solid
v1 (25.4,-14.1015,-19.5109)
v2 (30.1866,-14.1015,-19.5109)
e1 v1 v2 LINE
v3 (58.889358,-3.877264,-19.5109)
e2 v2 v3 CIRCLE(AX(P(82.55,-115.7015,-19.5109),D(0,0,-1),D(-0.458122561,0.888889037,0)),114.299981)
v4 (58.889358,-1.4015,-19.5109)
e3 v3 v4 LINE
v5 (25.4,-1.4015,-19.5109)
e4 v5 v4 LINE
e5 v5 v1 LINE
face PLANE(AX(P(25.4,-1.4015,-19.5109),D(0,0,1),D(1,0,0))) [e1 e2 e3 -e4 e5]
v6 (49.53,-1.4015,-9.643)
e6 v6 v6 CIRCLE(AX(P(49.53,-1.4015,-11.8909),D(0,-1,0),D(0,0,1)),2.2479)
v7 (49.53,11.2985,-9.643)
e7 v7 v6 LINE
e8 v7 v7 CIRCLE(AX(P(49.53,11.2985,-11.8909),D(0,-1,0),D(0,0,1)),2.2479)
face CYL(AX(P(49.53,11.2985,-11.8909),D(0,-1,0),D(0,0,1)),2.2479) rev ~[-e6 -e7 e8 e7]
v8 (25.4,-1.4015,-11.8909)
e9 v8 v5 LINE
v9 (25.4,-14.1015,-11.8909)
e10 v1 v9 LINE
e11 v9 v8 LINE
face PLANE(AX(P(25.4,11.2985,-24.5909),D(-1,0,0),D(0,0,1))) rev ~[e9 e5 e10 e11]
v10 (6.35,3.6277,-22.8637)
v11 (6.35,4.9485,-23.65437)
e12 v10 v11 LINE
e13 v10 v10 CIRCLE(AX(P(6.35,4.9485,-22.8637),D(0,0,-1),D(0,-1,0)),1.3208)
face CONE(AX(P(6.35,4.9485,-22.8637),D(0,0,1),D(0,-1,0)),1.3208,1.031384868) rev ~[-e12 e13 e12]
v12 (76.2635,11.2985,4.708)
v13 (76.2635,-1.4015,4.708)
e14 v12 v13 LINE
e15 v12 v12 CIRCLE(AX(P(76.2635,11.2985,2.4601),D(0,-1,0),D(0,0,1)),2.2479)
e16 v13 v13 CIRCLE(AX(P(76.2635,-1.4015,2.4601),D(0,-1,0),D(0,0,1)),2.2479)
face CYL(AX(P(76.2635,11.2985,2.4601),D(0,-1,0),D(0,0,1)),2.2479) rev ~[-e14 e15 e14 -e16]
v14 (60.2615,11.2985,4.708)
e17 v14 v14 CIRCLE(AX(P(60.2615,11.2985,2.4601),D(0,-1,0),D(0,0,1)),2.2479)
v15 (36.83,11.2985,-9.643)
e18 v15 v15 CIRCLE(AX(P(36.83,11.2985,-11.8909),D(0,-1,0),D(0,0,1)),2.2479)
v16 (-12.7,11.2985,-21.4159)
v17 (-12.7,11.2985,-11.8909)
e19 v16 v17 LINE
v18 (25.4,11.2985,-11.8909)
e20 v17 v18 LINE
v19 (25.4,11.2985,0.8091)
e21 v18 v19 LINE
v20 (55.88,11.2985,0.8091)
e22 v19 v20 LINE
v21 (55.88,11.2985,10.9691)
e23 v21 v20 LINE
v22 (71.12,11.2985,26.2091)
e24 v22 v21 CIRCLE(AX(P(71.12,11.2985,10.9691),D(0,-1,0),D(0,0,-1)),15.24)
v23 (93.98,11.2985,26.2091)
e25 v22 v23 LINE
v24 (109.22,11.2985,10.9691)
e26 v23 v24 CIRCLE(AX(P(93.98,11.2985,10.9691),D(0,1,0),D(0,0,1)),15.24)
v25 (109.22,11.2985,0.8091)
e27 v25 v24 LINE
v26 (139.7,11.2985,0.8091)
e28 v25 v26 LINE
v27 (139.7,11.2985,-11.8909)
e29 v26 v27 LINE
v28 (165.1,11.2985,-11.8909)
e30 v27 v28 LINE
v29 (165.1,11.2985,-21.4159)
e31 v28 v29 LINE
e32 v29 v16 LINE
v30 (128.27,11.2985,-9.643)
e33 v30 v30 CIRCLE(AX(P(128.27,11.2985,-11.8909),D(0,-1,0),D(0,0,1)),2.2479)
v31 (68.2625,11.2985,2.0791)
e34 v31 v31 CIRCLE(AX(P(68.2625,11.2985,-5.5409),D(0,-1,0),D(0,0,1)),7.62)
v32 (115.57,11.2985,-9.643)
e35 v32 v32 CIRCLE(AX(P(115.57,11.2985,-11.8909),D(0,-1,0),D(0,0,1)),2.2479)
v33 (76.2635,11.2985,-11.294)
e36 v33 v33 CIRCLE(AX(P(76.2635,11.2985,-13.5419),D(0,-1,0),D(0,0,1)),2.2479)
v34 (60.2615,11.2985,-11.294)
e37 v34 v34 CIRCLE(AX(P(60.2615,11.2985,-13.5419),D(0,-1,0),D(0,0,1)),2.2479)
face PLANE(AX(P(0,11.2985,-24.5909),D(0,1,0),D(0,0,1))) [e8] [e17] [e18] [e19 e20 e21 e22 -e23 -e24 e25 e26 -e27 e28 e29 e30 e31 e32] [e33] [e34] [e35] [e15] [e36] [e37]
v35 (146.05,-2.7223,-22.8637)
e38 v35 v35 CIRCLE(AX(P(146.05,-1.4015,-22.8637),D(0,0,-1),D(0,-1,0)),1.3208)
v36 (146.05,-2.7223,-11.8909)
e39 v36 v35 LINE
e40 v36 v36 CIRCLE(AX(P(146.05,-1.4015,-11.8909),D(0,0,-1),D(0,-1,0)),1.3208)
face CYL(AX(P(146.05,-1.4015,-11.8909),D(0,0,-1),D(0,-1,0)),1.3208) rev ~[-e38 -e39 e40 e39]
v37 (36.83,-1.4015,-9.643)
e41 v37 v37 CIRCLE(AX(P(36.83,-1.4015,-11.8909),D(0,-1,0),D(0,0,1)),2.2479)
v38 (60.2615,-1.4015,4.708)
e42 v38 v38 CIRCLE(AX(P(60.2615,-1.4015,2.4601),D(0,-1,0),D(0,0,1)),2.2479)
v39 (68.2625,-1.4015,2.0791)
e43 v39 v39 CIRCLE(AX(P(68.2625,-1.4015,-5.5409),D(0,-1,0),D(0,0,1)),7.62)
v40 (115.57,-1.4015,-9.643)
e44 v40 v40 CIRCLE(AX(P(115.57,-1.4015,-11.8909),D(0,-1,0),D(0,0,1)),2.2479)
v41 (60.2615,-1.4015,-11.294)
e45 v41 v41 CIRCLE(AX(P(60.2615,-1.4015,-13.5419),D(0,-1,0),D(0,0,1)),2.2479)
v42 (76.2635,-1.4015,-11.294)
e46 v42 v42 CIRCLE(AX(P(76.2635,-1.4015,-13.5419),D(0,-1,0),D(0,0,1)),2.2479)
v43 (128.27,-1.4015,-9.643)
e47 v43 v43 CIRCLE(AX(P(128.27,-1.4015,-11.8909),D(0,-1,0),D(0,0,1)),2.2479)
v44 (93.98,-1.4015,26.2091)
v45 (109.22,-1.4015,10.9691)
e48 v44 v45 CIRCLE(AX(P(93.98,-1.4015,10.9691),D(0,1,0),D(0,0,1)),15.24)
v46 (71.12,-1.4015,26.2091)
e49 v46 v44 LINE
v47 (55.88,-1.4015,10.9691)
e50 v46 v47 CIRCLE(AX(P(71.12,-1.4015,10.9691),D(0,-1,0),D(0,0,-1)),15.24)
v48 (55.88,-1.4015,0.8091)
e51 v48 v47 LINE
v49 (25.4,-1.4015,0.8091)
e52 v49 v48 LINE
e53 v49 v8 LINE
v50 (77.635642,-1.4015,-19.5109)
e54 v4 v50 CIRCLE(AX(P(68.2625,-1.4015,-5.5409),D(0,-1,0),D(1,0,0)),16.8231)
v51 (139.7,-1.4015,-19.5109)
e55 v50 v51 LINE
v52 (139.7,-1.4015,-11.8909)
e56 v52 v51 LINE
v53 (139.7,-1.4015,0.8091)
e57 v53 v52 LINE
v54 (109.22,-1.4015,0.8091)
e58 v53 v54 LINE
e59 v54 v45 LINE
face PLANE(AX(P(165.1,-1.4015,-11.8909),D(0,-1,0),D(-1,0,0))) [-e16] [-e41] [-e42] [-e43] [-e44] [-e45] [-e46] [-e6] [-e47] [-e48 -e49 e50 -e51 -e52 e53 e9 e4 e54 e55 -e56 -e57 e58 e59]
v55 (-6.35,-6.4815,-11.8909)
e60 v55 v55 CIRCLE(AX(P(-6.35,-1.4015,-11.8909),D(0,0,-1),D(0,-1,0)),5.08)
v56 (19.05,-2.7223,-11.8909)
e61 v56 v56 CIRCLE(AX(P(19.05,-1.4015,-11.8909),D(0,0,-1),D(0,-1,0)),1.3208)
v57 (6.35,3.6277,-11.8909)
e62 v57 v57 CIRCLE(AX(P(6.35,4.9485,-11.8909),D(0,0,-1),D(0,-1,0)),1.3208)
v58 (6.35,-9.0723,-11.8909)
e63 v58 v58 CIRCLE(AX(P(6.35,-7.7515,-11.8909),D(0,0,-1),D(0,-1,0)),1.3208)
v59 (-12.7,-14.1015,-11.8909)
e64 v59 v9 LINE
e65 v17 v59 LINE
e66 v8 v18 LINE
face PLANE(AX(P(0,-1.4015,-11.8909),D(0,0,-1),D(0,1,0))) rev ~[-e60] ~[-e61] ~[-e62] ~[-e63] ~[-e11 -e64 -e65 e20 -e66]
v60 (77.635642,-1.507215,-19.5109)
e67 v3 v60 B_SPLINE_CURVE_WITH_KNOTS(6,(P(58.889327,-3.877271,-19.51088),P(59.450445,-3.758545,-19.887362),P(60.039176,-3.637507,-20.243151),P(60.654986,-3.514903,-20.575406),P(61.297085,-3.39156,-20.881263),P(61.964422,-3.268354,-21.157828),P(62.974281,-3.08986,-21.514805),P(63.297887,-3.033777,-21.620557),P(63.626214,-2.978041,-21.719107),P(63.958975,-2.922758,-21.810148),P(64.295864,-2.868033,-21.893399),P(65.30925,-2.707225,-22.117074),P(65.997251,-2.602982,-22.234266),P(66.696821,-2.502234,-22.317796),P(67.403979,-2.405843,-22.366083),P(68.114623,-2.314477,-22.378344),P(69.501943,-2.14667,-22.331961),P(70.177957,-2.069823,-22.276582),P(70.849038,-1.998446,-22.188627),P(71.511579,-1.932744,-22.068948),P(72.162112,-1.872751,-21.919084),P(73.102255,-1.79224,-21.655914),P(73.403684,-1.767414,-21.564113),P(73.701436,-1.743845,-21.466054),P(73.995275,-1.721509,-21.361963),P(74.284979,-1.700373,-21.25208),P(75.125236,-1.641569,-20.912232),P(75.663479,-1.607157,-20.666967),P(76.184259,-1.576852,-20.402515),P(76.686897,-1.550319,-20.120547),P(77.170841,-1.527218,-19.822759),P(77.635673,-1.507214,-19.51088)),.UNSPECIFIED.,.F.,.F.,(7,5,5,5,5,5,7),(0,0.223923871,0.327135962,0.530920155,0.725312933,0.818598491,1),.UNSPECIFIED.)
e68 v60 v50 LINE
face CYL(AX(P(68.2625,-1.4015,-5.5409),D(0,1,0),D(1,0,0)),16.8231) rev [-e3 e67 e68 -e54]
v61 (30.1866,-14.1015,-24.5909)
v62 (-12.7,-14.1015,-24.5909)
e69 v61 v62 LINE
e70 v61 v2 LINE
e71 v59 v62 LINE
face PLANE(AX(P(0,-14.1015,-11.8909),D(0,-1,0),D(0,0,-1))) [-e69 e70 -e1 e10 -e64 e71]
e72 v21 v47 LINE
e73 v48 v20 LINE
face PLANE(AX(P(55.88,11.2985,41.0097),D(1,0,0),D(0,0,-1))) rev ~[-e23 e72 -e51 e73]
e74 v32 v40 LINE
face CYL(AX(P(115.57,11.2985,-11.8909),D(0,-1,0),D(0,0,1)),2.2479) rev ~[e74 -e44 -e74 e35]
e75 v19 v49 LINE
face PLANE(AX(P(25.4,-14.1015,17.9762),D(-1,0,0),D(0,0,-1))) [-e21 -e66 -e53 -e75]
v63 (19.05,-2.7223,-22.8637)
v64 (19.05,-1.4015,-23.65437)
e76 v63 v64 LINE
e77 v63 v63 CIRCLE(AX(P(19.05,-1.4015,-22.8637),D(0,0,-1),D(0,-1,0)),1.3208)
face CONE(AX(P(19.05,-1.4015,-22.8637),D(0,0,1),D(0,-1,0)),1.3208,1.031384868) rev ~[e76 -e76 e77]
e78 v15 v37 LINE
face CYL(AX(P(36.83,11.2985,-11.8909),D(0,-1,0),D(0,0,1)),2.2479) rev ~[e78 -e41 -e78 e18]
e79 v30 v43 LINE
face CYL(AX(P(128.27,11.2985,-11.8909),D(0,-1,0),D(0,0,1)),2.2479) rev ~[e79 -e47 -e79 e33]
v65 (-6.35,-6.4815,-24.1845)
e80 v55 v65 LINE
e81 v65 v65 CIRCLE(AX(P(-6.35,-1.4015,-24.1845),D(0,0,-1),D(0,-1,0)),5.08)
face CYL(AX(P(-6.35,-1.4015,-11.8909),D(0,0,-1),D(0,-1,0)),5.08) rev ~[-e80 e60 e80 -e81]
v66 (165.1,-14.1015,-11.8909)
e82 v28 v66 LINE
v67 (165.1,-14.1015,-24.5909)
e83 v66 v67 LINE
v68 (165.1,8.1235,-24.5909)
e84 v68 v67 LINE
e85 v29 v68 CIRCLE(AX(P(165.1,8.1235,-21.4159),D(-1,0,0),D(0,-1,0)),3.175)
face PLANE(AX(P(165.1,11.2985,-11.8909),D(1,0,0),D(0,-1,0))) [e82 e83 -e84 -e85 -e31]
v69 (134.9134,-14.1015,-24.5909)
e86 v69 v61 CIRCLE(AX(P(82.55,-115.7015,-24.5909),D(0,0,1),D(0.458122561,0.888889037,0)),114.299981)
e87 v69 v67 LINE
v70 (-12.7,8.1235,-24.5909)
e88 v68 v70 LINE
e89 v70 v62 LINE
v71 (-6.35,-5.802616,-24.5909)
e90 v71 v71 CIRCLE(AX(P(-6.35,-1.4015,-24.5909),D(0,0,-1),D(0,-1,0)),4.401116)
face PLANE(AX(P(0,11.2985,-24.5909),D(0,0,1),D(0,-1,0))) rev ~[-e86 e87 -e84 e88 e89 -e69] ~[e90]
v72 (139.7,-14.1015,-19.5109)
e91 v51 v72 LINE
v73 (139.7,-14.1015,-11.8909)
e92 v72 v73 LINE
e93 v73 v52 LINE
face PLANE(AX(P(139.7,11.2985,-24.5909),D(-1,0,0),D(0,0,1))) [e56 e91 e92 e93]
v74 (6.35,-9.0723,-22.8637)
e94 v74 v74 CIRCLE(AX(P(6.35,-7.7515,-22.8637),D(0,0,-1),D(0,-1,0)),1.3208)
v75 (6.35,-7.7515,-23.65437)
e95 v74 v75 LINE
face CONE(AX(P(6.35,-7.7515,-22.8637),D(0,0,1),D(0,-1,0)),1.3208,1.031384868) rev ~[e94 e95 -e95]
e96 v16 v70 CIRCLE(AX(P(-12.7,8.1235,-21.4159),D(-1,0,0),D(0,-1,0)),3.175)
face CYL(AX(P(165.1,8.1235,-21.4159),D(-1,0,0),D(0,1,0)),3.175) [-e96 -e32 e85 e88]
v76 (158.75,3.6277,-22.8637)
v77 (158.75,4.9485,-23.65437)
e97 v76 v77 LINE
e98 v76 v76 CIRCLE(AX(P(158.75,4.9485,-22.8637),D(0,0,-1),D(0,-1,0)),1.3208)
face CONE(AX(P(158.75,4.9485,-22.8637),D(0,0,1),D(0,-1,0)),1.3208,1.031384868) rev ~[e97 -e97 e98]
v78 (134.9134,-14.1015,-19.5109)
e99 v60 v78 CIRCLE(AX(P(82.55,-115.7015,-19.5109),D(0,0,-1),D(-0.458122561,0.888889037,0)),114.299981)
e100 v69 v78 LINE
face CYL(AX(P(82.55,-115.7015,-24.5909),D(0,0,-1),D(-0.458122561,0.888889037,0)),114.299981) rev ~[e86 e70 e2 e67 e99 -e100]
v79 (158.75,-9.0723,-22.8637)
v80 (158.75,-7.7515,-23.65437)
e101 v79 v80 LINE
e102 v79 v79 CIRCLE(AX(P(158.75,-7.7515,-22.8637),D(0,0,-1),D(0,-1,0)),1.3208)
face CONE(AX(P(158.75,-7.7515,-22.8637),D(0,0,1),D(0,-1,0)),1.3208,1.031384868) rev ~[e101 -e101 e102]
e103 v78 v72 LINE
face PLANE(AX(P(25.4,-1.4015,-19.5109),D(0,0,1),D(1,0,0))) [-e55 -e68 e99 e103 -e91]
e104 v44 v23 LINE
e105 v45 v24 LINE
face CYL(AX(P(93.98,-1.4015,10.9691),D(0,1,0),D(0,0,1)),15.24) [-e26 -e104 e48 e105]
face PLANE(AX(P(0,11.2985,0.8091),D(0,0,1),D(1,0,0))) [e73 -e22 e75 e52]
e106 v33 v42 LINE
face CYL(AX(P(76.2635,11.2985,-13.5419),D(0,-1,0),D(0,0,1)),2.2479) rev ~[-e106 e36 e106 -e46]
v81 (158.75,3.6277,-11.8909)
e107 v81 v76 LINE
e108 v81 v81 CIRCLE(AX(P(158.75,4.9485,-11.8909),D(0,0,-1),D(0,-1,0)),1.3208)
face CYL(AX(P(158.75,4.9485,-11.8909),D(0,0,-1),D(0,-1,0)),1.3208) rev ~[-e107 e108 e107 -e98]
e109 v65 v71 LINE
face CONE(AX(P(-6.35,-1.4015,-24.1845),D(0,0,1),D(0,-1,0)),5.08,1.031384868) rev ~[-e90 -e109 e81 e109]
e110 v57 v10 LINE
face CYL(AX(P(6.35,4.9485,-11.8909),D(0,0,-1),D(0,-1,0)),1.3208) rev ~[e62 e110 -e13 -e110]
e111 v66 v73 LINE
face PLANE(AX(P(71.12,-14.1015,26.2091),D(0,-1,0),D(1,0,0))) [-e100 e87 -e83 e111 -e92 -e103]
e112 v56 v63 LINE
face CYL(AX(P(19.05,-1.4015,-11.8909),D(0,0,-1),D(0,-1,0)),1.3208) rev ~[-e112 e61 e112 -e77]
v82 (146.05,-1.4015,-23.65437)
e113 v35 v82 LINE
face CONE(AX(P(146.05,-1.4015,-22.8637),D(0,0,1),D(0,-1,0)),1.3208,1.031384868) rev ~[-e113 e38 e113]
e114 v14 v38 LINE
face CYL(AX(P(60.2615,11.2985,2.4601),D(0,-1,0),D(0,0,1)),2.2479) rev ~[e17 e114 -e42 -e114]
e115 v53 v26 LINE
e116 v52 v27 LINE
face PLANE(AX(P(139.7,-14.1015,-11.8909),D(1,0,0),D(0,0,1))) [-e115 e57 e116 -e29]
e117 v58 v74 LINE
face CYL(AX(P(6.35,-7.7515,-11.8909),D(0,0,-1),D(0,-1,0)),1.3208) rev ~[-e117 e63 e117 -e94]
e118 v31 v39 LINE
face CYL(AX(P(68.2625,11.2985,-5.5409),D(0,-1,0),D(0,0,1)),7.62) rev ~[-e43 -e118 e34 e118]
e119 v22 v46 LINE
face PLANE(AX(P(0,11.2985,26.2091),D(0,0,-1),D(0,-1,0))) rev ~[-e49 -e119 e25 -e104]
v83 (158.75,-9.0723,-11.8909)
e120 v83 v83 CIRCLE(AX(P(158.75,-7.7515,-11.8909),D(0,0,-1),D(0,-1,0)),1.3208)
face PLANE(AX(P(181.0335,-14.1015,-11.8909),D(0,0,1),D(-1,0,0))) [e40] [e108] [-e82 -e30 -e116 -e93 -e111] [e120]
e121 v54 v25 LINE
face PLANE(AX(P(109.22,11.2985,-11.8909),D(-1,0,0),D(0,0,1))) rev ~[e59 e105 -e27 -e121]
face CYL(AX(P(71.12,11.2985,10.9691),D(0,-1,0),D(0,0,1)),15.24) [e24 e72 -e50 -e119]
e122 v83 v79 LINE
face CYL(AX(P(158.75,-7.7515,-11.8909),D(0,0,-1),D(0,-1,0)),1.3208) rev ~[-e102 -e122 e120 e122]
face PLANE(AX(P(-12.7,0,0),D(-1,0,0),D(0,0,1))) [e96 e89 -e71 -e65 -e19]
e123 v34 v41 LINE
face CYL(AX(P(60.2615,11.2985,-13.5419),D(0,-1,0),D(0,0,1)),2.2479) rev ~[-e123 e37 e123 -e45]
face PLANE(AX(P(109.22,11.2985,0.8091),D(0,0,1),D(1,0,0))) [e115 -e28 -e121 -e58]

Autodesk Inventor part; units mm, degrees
ref_plane "YZ Plane" through (0, 0, 0) normal (1, 0, 0) x (0, 1, 0)
ref_plane "XZ Plane" through (0, 0, 0) normal (0, 1, 0) x (-1, 0, 0)
ref_plane "XY Plane" through (0, 0, 0) normal (0, 0, 1) x (1, 0, 0)
sketch "Sketch1" plane through (0, 0, 0) normal (1, 0, 0) x (0, 1, 0)
  line L0 (11.2985, 26.2091) -> (-1.4015, 26.2091)
  line L1 (-1.4015, 26.2091) -> (-1.4015, -24.5909)
  line L2 (-1.4015, -24.5909) -> (11.2985, -24.5909)
  line L3 (11.2985, -24.5909) -> (11.2985, 26.2091)
  point P0 (0, 0)
  dimension "d0" = 50.8
  dimension "d1" = 12.7
extrude "Extrusion1" add sketch "Sketch1" along normal blind 165.1
sketch "Sketch2" plane through (0, 11.2985, 26.2091) normal (0, 1, 0) x (1, 0, 0)
  circle A0 centre (68.2625, 31.75) radius 12.7
  circle A1 centre (87.3125, 31.75) radius 12.7
  line L0 (0, 50.8) -> (0, 0) projected
  line L1 (0, 50.8) -> (165.1, 50.8) projected
  point P0 (0, 26.2091)
  point P1 (60.2615, 39.751)
  point P2 (76.2635, 39.751)
  point P3 (76.2635, 23.749)
  point P4 (60.2615, 23.749)
  dimension "d4" = 25.4
  dimension "d5" = 25.4
  dimension "d6" = 0
  dimension "d7" = 19.05
  dimension "d8" = 68.2625
  dimension "d9" = 19.05
  dimension "d46" = 0
  dimension "d47" = 0
  dimension "d48" = 0
  dimension "d49" = 0
  dimension "d50" = 16.002
  dimension "d51" = 16.002
  dimension "d52" = 8.001
  dimension "d53" = 8.001
sketch "Sketch8" plane through (0, 11.2985, 26.2091) normal (0, 1, 0) x (1, 0, 0)
  line L0 (-37.599, -14.8006) -> (55.88, -14.8006)
  line L1 (55.88, -14.8006) -> (55.88, 38.1)
  line L2 (55.88, 38.1) -> (-37.599, 38.1)
  line L3 (-37.599, 38.1) -> (-37.599, -14.8006)
  line L4 (109.22, -16.386) -> (193.9952, -16.386)
  line L5 (193.9952, -16.386) -> (193.9952, 38.1)
  line L6 (193.9952, 38.1) -> (109.22, 38.1)
  line L7 (109.22, 38.1) -> (109.22, -16.386)
  line L8 (0, 50.8) -> (165.1, 50.8) projected
  line L9 (0, 50.8) -> (0, 0) projected
  line L10 (165.1, 50.8) -> (165.1, 0) projected
  point P0 (0, 26.2091)
  dimension "d36" = 12.7
  dimension "d37" = 55.88
  dimension "d38" = 12.7
  dimension "d39" = 55.88
extrude "Extrusion8" cut sketch "Sketch8" against normal blind 76.2
fillet "Fillet1" radius 15.24 1 edges at (109.22, 4.9485, 26.2091)
fillet "Fillet2" radius 15.24 1 edges at (55.88, 4.9485, 26.2091)
hole "Hole1" at (60.2615, 11.2985, -13.5419) at (76.2635, 11.2985, -13.5419) at (76.2635, 11.2985, 2.4601) at (60.2615, 11.2985, 2.4601) direction (0, -1, 0) diameter 4.4958 end through all clearance for "Flat Head Machine Screw" size "M4" standard "Ansi Metric M Profile"
sketch "Sketch10" plane through (0, 11.2985, -24.5909) normal (0, 1, 0) x (1, 0, 0)
  circle A0 centre (76.2635, -27.051) radius 2.2479 projected
  circle A1 centre (60.2615, -11.049) radius 2.2479 projected
  circle A2 centre (60.2615, -27.051) radius 2.2479 projected
  circle A3 centre (76.2635, -11.049) radius 2.2479 projected
  line L0 (76.2635, -11.049) -> (60.2615, -27.051)
  line L1 (60.2615, -11.049) -> (76.2635, -27.051)
  point P0 (0, -24.5909)
  point P1 (68.2625, -19.05)
  dimension "d61" = 8.001
  dimension "d62" = 8.001
hole "Hole2" at (68.2625, 11.2985, -5.5409) direction (0, -1, 0) diameter 15.24 end through all
sketch "Sketch11" plane through (0, 11.2985, -11.8909) normal (0, 0, 1) x (1, 0, 0)
  line L0 (55.88, 0) -> (0, 0)
  line L1 (0, 0) -> (0, -12.7)
  line L2 (0, -12.7) -> (55.88, -12.7)
  line L3 (55.88, -12.7) -> (55.88, 0)
  line L4 (0, -12.7) -> (0, 0) projected
  line L5 (55.88, 0) -> (55.88, -12.7) projected
  line L6 (0, 0) -> (55.88, 0) projected
  line L7 (55.88, -12.7) -> (0, -12.7) projected
  point P0 (0, -11.2985)
  dimension "d70" = 0
  dimension "d71" = 0
  dimension "d72" = 0
  dimension "d73" = 0
extrude "Extrusion9" add sketch "Sketch11" along normal blind 12.7
sketch "Sketch12" plane through (109.22, 11.2985, -11.8909) normal (0, 0, 1) x (1, 0, 0)
  line L0 (0, 0) -> (55.88, 0)
  line L1 (55.88, 0) -> (55.88, -12.7)
  line L2 (55.88, -12.7) -> (0, -12.7)
  line L3 (0, -12.7) -> (0, 0)
  line L4 (55.88, 0) -> (55.88, -12.7) projected
  line L5 (0, 0) -> (55.88, 0) projected
  line L6 (55.88, -12.7) -> (0, -12.7) projected
  line L7 (0, -12.7) -> (0, 0) projected
  point P0 (-109.22, -11.2985)
  dimension "d76" = 0
  dimension "d77" = 0
  dimension "d78" = 0
  dimension "d79" = 0
extrude "Extrusion10" add sketch "Sketch12" along normal blind 12.7
sketch "Sketch13" plane through (0, 11.2985, -24.5909) normal (0, 1, 0) x (1, 0, 0)
  line L0 (55.88, -25.4) -> (55.88, -35.56) projected
  line L1 (0, 0) -> (165.1, 0) projected
  line L2 (109.22, -35.56) -> (109.22, -25.4) projected
  point P0 (0, -24.5909)
  point P1 (49.53, -12.7)
  point P2 (36.83, -12.7)
  point P3 (115.57, -12.7)
  point P4 (128.27, -12.7)
  dimension "d82" = 19.05
  dimension "d83" = 6.35
  dimension "d84" = 12.7
  dimension "d85" = 12.7
  dimension "d86" = 6.35
  dimension "d87" = 19.05
  dimension "d88" = 12.7
  dimension "d89" = 12.7
hole "Hole3" at (49.53, 11.2985, -11.8909) at (36.83, 11.2985, -11.8909) at (115.57, 11.2985, -11.8909) at (128.27, 11.2985, -11.8909) direction (0, -1, 0) diameter 4.4958 depth 25.4 tip angle 118.188 clearance for "Flat Head Machine Screw (82)" size "#8" standard "Ansi Unified Screw Threads"
sketch "Sketch14" plane through (0, 11.2985, -24.5909) normal (0, 1, 0) x (1, 0, 0)
  line L0 (0, 0) -> (25.4, 0)
  line L1 (25.4, 0) -> (25.4, -25.4)
  line L2 (25.4, -25.4) -> (0, -25.4)
  line L3 (0, -25.4) -> (0, 0)
  line L4 (165.1, 0) -> (139.7, 0)
  line L5 (139.7, 0) -> (139.7, -25.4)
  line L6 (139.7, -25.4) -> (165.1, -25.4)
  line L7 (165.1, -25.4) -> (165.1, 0)
  line L8 (0, 0) -> (165.1, 0) projected
  line L9 (165.1, 0) -> (165.1, -25.4) projected
  line L10 (165.1, -25.4) -> (109.22, -25.4) projected
  line L11 (0, 0) -> (0, -25.4) projected
  line L12 (55.88, -25.4) -> (0, -25.4) projected
  point P0 (0, -24.5909)
  dimension "d97" = 0
  dimension "d98" = 25.4
  dimension "d99" = 0
  dimension "d100" = 0
  dimension "d101" = 25.4
  dimension "d102" = 0
  dimension "d103" = 0
  dimension "d104" = 0
extrude "Extrusion11" add sketch "Sketch14" against normal blind 25.4
sketch "Sketch16" plane through (0, -14.1015, -24.5909) normal (0, -1, 0) x (1, 0, 0)
  line L0 (-15.071, 42.5671) -> (25.4, 42.5671)
  line L1 (25.4, 42.5671) -> (25.4, 12.7)
  line L2 (25.4, 12.7) -> (-15.071, 12.7)
  line L3 (-15.071, 12.7) -> (-15.071, 42.5671)
  line L4 (139.7, 42.5671) -> (181.0335, 42.5671)
  line L5 (181.0335, 42.5671) -> (181.0335, 12.7)
  line L6 (181.0335, 12.7) -> (139.7, 12.7)
  line L7 (139.7, 12.7) -> (139.7, 42.5671)
  line L8 (165.1, 25.4) -> (139.7, 25.4) projected
  line L9 (139.7, 25.4) -> (139.7, 0) projected
  line L10 (25.4, 0) -> (25.4, 25.4) projected
  line L11 (25.4, 25.4) -> (0, 25.4) projected
  point P0 (0, 24.5909)
  dimension "d112" = 12.7
  dimension "d113" = 0
  dimension "d114" = 0
  dimension "d115" = 12.7
extrude "Extrusion13" cut sketch "Sketch16" against normal blind 50.8
sketch "Sketch17" plane through (0, -14.1015, -11.8909) normal (0, 0, 1) x (1, 0, 0)
  line L0 (0, 0) -> (0, 25.4) projected
  line L1 (0, 25.4) -> (25.4, 25.4) projected
  line L2 (25.4, 0) -> (0, 0) projected
  line L3 (165.1, 25.4) -> (165.1, 0) projected
  line L4 (139.7, 25.4) -> (165.1, 25.4) projected
  line L5 (165.1, 0) -> (139.7, 0) projected
  point P0 (0, 14.1015)
  point P1 (6.35, 19.05)
  point P2 (6.35, 6.35)
  point P3 (19.05, 12.7)
  point P4 (146.05, 12.7)
  point P5 (158.75, 19.05)
  point P6 (158.75, 6.35)
  dimension "d118" = 6.35
  dimension "d119" = 6.35
  dimension "d120" = 6.35
  dimension "d121" = 6.35
  dimension "d122" = 19.05
  dimension "d123" = 12.7
  dimension "d124" = 19.05
  dimension "d125" = 12.7
  dimension "d126" = 6.35
  dimension "d127" = 6.35
  dimension "d128" = 6.35
  dimension "d129" = 6.35
hole "Hole4" at (6.35, 4.9485, -11.8909) at (6.35, -7.7515, -11.8909) at (19.05, -1.4015, -11.8909) at (146.05, -1.4015, -11.8909) at (158.75, 4.9485, -11.8909) at (158.75, -7.7515, -11.8909) direction (0, 0, -1) diameter 2.6416 depth 10.9728 tip angle 118.188 thread size "6-32 UNC" class "2B" standard "ANSI Unified Screw Threads"
sketch "Sketch18" plane through (71.12, -1.4015, 26.2091) normal (0, -1, 0) x (1, 0, 0)
  line L0 (-45.72, -45.72) -> (68.58, -45.72)
  line L1 (68.58, -45.72) -> (68.58, -50.8)
  line L2 (68.58, -50.8) -> (-45.72, -50.8)
  line L3 (-45.72, -50.8) -> (-45.72, -45.72)
  line L4 (-45.72, -50.8) -> (68.58, -50.8) projected
  line L5 (68.58, -38.1) -> (68.58, -50.8) projected
  line L6 (-45.72, -50.8) -> (-45.72, -38.1) projected
  point P0 (-71.12, -26.2091)
  dimension "d137" = 0
  dimension "d138" = 0
  dimension "d139" = 5.08
  dimension "d140" = 0
extrude "Extrusion14" add sketch "Sketch18" along normal blind 12.7
sketch "Sketch19" plane through (165.1, 11.2985, -24.5909) normal (0, 0, -1) x (-1, 0, 0)
  line L0 (82.55, -51.592) -> (82.55, 23.9487)
  line L1 (165.1, 0) -> (165.1, -25.4) projected
  line L2 (0, 0) -> (0, -25.4) projected
  arc A0 (134.9134, -25.4) -> (30.1866, -25.4) centre (82.55, -127) ccw
  line L3 (165.1, -25.4) -> (0, -25.4) projected
  line L4 (134.9134, -25.4) -> (30.1866, -25.4)
  point P0 (165.1, -11.2985)
  dimension "d143" = 82.55
  dimension "d144" = 82.55
  dimension "d145" = 0
  dimension "d146" = 101.6
  dimension "d147" = 228.6
extrude "Extrusion15" cut sketch "Sketch19" against normal blind 6.35
sketch "Sketch20" plane through (0, 0, 0) normal (-1, 0, 0) x (0, 0, 1)
  line L0 (-24.5909, 11.2985) -> (-24.5909, -14.1015) projected
  line L1 (-11.8909, -14.1015) -> (-24.5909, -14.1015) projected
  line L2 (-11.8909, -14.1015) -> (-11.8909, 11.2985) projected
  line L3 (-24.5909, 11.2985) -> (-11.8909, 11.2985) projected
  line L4 (-11.8909, -14.1015) -> (-11.8909, -1.4015) projected
  line L5 (-11.8909, -14.1015) -> (-24.5909, -14.1015)
  line L6 (-24.5909, -14.1015) -> (-24.5909, 11.2985)
  line L7 (-24.5909, 11.2985) -> (-11.8909, 11.2985)
  line L8 (-11.8909, 11.2985) -> (-11.8909, -14.1015)
  point P0 (0, 0)
extrude "Extrusion16" add sketch "Sketch20" along normal blind 12.7
sketch "Sketch21" plane through (25.4, -14.1015, -11.8909) normal (0, 0, 1) x (1, 0, 0)
  line L0 (0, 0) -> (-38.1, 0) projected
  line L1 (-38.1, 0) -> (-38.1, 25.4) projected
  point P0 (-25.4, 14.1015)
  point P1 (-31.75, 12.7)
  dimension "d152" = 12.7
  dimension "d153" = 6.35
hole "Hole5" at (-6.35, -1.4015, -11.8909) direction (0, 0, -1) diameter 10.16 depth 12.2936 tip angle 118.188
fillet "Fillet3" radius 3.175 1 edges at (76.2, 11.2985, -24.5909)
sketch "Sketch22" plane through (71.12, -1.4015, 26.2091) normal (0, -1, 0) x (1, 0, 0)
  circle A0 centre (-2.8575, -31.75) radius 7.62 projected
  circle A1 centre (-2.8575, -31.75) radius 16.8231
  point P0 (-71.12, -26.2091)
extrude "Extrusion17" cut sketch "Sketch22" along normal blind 25.4
properties part number "GripperM otorBlock"
